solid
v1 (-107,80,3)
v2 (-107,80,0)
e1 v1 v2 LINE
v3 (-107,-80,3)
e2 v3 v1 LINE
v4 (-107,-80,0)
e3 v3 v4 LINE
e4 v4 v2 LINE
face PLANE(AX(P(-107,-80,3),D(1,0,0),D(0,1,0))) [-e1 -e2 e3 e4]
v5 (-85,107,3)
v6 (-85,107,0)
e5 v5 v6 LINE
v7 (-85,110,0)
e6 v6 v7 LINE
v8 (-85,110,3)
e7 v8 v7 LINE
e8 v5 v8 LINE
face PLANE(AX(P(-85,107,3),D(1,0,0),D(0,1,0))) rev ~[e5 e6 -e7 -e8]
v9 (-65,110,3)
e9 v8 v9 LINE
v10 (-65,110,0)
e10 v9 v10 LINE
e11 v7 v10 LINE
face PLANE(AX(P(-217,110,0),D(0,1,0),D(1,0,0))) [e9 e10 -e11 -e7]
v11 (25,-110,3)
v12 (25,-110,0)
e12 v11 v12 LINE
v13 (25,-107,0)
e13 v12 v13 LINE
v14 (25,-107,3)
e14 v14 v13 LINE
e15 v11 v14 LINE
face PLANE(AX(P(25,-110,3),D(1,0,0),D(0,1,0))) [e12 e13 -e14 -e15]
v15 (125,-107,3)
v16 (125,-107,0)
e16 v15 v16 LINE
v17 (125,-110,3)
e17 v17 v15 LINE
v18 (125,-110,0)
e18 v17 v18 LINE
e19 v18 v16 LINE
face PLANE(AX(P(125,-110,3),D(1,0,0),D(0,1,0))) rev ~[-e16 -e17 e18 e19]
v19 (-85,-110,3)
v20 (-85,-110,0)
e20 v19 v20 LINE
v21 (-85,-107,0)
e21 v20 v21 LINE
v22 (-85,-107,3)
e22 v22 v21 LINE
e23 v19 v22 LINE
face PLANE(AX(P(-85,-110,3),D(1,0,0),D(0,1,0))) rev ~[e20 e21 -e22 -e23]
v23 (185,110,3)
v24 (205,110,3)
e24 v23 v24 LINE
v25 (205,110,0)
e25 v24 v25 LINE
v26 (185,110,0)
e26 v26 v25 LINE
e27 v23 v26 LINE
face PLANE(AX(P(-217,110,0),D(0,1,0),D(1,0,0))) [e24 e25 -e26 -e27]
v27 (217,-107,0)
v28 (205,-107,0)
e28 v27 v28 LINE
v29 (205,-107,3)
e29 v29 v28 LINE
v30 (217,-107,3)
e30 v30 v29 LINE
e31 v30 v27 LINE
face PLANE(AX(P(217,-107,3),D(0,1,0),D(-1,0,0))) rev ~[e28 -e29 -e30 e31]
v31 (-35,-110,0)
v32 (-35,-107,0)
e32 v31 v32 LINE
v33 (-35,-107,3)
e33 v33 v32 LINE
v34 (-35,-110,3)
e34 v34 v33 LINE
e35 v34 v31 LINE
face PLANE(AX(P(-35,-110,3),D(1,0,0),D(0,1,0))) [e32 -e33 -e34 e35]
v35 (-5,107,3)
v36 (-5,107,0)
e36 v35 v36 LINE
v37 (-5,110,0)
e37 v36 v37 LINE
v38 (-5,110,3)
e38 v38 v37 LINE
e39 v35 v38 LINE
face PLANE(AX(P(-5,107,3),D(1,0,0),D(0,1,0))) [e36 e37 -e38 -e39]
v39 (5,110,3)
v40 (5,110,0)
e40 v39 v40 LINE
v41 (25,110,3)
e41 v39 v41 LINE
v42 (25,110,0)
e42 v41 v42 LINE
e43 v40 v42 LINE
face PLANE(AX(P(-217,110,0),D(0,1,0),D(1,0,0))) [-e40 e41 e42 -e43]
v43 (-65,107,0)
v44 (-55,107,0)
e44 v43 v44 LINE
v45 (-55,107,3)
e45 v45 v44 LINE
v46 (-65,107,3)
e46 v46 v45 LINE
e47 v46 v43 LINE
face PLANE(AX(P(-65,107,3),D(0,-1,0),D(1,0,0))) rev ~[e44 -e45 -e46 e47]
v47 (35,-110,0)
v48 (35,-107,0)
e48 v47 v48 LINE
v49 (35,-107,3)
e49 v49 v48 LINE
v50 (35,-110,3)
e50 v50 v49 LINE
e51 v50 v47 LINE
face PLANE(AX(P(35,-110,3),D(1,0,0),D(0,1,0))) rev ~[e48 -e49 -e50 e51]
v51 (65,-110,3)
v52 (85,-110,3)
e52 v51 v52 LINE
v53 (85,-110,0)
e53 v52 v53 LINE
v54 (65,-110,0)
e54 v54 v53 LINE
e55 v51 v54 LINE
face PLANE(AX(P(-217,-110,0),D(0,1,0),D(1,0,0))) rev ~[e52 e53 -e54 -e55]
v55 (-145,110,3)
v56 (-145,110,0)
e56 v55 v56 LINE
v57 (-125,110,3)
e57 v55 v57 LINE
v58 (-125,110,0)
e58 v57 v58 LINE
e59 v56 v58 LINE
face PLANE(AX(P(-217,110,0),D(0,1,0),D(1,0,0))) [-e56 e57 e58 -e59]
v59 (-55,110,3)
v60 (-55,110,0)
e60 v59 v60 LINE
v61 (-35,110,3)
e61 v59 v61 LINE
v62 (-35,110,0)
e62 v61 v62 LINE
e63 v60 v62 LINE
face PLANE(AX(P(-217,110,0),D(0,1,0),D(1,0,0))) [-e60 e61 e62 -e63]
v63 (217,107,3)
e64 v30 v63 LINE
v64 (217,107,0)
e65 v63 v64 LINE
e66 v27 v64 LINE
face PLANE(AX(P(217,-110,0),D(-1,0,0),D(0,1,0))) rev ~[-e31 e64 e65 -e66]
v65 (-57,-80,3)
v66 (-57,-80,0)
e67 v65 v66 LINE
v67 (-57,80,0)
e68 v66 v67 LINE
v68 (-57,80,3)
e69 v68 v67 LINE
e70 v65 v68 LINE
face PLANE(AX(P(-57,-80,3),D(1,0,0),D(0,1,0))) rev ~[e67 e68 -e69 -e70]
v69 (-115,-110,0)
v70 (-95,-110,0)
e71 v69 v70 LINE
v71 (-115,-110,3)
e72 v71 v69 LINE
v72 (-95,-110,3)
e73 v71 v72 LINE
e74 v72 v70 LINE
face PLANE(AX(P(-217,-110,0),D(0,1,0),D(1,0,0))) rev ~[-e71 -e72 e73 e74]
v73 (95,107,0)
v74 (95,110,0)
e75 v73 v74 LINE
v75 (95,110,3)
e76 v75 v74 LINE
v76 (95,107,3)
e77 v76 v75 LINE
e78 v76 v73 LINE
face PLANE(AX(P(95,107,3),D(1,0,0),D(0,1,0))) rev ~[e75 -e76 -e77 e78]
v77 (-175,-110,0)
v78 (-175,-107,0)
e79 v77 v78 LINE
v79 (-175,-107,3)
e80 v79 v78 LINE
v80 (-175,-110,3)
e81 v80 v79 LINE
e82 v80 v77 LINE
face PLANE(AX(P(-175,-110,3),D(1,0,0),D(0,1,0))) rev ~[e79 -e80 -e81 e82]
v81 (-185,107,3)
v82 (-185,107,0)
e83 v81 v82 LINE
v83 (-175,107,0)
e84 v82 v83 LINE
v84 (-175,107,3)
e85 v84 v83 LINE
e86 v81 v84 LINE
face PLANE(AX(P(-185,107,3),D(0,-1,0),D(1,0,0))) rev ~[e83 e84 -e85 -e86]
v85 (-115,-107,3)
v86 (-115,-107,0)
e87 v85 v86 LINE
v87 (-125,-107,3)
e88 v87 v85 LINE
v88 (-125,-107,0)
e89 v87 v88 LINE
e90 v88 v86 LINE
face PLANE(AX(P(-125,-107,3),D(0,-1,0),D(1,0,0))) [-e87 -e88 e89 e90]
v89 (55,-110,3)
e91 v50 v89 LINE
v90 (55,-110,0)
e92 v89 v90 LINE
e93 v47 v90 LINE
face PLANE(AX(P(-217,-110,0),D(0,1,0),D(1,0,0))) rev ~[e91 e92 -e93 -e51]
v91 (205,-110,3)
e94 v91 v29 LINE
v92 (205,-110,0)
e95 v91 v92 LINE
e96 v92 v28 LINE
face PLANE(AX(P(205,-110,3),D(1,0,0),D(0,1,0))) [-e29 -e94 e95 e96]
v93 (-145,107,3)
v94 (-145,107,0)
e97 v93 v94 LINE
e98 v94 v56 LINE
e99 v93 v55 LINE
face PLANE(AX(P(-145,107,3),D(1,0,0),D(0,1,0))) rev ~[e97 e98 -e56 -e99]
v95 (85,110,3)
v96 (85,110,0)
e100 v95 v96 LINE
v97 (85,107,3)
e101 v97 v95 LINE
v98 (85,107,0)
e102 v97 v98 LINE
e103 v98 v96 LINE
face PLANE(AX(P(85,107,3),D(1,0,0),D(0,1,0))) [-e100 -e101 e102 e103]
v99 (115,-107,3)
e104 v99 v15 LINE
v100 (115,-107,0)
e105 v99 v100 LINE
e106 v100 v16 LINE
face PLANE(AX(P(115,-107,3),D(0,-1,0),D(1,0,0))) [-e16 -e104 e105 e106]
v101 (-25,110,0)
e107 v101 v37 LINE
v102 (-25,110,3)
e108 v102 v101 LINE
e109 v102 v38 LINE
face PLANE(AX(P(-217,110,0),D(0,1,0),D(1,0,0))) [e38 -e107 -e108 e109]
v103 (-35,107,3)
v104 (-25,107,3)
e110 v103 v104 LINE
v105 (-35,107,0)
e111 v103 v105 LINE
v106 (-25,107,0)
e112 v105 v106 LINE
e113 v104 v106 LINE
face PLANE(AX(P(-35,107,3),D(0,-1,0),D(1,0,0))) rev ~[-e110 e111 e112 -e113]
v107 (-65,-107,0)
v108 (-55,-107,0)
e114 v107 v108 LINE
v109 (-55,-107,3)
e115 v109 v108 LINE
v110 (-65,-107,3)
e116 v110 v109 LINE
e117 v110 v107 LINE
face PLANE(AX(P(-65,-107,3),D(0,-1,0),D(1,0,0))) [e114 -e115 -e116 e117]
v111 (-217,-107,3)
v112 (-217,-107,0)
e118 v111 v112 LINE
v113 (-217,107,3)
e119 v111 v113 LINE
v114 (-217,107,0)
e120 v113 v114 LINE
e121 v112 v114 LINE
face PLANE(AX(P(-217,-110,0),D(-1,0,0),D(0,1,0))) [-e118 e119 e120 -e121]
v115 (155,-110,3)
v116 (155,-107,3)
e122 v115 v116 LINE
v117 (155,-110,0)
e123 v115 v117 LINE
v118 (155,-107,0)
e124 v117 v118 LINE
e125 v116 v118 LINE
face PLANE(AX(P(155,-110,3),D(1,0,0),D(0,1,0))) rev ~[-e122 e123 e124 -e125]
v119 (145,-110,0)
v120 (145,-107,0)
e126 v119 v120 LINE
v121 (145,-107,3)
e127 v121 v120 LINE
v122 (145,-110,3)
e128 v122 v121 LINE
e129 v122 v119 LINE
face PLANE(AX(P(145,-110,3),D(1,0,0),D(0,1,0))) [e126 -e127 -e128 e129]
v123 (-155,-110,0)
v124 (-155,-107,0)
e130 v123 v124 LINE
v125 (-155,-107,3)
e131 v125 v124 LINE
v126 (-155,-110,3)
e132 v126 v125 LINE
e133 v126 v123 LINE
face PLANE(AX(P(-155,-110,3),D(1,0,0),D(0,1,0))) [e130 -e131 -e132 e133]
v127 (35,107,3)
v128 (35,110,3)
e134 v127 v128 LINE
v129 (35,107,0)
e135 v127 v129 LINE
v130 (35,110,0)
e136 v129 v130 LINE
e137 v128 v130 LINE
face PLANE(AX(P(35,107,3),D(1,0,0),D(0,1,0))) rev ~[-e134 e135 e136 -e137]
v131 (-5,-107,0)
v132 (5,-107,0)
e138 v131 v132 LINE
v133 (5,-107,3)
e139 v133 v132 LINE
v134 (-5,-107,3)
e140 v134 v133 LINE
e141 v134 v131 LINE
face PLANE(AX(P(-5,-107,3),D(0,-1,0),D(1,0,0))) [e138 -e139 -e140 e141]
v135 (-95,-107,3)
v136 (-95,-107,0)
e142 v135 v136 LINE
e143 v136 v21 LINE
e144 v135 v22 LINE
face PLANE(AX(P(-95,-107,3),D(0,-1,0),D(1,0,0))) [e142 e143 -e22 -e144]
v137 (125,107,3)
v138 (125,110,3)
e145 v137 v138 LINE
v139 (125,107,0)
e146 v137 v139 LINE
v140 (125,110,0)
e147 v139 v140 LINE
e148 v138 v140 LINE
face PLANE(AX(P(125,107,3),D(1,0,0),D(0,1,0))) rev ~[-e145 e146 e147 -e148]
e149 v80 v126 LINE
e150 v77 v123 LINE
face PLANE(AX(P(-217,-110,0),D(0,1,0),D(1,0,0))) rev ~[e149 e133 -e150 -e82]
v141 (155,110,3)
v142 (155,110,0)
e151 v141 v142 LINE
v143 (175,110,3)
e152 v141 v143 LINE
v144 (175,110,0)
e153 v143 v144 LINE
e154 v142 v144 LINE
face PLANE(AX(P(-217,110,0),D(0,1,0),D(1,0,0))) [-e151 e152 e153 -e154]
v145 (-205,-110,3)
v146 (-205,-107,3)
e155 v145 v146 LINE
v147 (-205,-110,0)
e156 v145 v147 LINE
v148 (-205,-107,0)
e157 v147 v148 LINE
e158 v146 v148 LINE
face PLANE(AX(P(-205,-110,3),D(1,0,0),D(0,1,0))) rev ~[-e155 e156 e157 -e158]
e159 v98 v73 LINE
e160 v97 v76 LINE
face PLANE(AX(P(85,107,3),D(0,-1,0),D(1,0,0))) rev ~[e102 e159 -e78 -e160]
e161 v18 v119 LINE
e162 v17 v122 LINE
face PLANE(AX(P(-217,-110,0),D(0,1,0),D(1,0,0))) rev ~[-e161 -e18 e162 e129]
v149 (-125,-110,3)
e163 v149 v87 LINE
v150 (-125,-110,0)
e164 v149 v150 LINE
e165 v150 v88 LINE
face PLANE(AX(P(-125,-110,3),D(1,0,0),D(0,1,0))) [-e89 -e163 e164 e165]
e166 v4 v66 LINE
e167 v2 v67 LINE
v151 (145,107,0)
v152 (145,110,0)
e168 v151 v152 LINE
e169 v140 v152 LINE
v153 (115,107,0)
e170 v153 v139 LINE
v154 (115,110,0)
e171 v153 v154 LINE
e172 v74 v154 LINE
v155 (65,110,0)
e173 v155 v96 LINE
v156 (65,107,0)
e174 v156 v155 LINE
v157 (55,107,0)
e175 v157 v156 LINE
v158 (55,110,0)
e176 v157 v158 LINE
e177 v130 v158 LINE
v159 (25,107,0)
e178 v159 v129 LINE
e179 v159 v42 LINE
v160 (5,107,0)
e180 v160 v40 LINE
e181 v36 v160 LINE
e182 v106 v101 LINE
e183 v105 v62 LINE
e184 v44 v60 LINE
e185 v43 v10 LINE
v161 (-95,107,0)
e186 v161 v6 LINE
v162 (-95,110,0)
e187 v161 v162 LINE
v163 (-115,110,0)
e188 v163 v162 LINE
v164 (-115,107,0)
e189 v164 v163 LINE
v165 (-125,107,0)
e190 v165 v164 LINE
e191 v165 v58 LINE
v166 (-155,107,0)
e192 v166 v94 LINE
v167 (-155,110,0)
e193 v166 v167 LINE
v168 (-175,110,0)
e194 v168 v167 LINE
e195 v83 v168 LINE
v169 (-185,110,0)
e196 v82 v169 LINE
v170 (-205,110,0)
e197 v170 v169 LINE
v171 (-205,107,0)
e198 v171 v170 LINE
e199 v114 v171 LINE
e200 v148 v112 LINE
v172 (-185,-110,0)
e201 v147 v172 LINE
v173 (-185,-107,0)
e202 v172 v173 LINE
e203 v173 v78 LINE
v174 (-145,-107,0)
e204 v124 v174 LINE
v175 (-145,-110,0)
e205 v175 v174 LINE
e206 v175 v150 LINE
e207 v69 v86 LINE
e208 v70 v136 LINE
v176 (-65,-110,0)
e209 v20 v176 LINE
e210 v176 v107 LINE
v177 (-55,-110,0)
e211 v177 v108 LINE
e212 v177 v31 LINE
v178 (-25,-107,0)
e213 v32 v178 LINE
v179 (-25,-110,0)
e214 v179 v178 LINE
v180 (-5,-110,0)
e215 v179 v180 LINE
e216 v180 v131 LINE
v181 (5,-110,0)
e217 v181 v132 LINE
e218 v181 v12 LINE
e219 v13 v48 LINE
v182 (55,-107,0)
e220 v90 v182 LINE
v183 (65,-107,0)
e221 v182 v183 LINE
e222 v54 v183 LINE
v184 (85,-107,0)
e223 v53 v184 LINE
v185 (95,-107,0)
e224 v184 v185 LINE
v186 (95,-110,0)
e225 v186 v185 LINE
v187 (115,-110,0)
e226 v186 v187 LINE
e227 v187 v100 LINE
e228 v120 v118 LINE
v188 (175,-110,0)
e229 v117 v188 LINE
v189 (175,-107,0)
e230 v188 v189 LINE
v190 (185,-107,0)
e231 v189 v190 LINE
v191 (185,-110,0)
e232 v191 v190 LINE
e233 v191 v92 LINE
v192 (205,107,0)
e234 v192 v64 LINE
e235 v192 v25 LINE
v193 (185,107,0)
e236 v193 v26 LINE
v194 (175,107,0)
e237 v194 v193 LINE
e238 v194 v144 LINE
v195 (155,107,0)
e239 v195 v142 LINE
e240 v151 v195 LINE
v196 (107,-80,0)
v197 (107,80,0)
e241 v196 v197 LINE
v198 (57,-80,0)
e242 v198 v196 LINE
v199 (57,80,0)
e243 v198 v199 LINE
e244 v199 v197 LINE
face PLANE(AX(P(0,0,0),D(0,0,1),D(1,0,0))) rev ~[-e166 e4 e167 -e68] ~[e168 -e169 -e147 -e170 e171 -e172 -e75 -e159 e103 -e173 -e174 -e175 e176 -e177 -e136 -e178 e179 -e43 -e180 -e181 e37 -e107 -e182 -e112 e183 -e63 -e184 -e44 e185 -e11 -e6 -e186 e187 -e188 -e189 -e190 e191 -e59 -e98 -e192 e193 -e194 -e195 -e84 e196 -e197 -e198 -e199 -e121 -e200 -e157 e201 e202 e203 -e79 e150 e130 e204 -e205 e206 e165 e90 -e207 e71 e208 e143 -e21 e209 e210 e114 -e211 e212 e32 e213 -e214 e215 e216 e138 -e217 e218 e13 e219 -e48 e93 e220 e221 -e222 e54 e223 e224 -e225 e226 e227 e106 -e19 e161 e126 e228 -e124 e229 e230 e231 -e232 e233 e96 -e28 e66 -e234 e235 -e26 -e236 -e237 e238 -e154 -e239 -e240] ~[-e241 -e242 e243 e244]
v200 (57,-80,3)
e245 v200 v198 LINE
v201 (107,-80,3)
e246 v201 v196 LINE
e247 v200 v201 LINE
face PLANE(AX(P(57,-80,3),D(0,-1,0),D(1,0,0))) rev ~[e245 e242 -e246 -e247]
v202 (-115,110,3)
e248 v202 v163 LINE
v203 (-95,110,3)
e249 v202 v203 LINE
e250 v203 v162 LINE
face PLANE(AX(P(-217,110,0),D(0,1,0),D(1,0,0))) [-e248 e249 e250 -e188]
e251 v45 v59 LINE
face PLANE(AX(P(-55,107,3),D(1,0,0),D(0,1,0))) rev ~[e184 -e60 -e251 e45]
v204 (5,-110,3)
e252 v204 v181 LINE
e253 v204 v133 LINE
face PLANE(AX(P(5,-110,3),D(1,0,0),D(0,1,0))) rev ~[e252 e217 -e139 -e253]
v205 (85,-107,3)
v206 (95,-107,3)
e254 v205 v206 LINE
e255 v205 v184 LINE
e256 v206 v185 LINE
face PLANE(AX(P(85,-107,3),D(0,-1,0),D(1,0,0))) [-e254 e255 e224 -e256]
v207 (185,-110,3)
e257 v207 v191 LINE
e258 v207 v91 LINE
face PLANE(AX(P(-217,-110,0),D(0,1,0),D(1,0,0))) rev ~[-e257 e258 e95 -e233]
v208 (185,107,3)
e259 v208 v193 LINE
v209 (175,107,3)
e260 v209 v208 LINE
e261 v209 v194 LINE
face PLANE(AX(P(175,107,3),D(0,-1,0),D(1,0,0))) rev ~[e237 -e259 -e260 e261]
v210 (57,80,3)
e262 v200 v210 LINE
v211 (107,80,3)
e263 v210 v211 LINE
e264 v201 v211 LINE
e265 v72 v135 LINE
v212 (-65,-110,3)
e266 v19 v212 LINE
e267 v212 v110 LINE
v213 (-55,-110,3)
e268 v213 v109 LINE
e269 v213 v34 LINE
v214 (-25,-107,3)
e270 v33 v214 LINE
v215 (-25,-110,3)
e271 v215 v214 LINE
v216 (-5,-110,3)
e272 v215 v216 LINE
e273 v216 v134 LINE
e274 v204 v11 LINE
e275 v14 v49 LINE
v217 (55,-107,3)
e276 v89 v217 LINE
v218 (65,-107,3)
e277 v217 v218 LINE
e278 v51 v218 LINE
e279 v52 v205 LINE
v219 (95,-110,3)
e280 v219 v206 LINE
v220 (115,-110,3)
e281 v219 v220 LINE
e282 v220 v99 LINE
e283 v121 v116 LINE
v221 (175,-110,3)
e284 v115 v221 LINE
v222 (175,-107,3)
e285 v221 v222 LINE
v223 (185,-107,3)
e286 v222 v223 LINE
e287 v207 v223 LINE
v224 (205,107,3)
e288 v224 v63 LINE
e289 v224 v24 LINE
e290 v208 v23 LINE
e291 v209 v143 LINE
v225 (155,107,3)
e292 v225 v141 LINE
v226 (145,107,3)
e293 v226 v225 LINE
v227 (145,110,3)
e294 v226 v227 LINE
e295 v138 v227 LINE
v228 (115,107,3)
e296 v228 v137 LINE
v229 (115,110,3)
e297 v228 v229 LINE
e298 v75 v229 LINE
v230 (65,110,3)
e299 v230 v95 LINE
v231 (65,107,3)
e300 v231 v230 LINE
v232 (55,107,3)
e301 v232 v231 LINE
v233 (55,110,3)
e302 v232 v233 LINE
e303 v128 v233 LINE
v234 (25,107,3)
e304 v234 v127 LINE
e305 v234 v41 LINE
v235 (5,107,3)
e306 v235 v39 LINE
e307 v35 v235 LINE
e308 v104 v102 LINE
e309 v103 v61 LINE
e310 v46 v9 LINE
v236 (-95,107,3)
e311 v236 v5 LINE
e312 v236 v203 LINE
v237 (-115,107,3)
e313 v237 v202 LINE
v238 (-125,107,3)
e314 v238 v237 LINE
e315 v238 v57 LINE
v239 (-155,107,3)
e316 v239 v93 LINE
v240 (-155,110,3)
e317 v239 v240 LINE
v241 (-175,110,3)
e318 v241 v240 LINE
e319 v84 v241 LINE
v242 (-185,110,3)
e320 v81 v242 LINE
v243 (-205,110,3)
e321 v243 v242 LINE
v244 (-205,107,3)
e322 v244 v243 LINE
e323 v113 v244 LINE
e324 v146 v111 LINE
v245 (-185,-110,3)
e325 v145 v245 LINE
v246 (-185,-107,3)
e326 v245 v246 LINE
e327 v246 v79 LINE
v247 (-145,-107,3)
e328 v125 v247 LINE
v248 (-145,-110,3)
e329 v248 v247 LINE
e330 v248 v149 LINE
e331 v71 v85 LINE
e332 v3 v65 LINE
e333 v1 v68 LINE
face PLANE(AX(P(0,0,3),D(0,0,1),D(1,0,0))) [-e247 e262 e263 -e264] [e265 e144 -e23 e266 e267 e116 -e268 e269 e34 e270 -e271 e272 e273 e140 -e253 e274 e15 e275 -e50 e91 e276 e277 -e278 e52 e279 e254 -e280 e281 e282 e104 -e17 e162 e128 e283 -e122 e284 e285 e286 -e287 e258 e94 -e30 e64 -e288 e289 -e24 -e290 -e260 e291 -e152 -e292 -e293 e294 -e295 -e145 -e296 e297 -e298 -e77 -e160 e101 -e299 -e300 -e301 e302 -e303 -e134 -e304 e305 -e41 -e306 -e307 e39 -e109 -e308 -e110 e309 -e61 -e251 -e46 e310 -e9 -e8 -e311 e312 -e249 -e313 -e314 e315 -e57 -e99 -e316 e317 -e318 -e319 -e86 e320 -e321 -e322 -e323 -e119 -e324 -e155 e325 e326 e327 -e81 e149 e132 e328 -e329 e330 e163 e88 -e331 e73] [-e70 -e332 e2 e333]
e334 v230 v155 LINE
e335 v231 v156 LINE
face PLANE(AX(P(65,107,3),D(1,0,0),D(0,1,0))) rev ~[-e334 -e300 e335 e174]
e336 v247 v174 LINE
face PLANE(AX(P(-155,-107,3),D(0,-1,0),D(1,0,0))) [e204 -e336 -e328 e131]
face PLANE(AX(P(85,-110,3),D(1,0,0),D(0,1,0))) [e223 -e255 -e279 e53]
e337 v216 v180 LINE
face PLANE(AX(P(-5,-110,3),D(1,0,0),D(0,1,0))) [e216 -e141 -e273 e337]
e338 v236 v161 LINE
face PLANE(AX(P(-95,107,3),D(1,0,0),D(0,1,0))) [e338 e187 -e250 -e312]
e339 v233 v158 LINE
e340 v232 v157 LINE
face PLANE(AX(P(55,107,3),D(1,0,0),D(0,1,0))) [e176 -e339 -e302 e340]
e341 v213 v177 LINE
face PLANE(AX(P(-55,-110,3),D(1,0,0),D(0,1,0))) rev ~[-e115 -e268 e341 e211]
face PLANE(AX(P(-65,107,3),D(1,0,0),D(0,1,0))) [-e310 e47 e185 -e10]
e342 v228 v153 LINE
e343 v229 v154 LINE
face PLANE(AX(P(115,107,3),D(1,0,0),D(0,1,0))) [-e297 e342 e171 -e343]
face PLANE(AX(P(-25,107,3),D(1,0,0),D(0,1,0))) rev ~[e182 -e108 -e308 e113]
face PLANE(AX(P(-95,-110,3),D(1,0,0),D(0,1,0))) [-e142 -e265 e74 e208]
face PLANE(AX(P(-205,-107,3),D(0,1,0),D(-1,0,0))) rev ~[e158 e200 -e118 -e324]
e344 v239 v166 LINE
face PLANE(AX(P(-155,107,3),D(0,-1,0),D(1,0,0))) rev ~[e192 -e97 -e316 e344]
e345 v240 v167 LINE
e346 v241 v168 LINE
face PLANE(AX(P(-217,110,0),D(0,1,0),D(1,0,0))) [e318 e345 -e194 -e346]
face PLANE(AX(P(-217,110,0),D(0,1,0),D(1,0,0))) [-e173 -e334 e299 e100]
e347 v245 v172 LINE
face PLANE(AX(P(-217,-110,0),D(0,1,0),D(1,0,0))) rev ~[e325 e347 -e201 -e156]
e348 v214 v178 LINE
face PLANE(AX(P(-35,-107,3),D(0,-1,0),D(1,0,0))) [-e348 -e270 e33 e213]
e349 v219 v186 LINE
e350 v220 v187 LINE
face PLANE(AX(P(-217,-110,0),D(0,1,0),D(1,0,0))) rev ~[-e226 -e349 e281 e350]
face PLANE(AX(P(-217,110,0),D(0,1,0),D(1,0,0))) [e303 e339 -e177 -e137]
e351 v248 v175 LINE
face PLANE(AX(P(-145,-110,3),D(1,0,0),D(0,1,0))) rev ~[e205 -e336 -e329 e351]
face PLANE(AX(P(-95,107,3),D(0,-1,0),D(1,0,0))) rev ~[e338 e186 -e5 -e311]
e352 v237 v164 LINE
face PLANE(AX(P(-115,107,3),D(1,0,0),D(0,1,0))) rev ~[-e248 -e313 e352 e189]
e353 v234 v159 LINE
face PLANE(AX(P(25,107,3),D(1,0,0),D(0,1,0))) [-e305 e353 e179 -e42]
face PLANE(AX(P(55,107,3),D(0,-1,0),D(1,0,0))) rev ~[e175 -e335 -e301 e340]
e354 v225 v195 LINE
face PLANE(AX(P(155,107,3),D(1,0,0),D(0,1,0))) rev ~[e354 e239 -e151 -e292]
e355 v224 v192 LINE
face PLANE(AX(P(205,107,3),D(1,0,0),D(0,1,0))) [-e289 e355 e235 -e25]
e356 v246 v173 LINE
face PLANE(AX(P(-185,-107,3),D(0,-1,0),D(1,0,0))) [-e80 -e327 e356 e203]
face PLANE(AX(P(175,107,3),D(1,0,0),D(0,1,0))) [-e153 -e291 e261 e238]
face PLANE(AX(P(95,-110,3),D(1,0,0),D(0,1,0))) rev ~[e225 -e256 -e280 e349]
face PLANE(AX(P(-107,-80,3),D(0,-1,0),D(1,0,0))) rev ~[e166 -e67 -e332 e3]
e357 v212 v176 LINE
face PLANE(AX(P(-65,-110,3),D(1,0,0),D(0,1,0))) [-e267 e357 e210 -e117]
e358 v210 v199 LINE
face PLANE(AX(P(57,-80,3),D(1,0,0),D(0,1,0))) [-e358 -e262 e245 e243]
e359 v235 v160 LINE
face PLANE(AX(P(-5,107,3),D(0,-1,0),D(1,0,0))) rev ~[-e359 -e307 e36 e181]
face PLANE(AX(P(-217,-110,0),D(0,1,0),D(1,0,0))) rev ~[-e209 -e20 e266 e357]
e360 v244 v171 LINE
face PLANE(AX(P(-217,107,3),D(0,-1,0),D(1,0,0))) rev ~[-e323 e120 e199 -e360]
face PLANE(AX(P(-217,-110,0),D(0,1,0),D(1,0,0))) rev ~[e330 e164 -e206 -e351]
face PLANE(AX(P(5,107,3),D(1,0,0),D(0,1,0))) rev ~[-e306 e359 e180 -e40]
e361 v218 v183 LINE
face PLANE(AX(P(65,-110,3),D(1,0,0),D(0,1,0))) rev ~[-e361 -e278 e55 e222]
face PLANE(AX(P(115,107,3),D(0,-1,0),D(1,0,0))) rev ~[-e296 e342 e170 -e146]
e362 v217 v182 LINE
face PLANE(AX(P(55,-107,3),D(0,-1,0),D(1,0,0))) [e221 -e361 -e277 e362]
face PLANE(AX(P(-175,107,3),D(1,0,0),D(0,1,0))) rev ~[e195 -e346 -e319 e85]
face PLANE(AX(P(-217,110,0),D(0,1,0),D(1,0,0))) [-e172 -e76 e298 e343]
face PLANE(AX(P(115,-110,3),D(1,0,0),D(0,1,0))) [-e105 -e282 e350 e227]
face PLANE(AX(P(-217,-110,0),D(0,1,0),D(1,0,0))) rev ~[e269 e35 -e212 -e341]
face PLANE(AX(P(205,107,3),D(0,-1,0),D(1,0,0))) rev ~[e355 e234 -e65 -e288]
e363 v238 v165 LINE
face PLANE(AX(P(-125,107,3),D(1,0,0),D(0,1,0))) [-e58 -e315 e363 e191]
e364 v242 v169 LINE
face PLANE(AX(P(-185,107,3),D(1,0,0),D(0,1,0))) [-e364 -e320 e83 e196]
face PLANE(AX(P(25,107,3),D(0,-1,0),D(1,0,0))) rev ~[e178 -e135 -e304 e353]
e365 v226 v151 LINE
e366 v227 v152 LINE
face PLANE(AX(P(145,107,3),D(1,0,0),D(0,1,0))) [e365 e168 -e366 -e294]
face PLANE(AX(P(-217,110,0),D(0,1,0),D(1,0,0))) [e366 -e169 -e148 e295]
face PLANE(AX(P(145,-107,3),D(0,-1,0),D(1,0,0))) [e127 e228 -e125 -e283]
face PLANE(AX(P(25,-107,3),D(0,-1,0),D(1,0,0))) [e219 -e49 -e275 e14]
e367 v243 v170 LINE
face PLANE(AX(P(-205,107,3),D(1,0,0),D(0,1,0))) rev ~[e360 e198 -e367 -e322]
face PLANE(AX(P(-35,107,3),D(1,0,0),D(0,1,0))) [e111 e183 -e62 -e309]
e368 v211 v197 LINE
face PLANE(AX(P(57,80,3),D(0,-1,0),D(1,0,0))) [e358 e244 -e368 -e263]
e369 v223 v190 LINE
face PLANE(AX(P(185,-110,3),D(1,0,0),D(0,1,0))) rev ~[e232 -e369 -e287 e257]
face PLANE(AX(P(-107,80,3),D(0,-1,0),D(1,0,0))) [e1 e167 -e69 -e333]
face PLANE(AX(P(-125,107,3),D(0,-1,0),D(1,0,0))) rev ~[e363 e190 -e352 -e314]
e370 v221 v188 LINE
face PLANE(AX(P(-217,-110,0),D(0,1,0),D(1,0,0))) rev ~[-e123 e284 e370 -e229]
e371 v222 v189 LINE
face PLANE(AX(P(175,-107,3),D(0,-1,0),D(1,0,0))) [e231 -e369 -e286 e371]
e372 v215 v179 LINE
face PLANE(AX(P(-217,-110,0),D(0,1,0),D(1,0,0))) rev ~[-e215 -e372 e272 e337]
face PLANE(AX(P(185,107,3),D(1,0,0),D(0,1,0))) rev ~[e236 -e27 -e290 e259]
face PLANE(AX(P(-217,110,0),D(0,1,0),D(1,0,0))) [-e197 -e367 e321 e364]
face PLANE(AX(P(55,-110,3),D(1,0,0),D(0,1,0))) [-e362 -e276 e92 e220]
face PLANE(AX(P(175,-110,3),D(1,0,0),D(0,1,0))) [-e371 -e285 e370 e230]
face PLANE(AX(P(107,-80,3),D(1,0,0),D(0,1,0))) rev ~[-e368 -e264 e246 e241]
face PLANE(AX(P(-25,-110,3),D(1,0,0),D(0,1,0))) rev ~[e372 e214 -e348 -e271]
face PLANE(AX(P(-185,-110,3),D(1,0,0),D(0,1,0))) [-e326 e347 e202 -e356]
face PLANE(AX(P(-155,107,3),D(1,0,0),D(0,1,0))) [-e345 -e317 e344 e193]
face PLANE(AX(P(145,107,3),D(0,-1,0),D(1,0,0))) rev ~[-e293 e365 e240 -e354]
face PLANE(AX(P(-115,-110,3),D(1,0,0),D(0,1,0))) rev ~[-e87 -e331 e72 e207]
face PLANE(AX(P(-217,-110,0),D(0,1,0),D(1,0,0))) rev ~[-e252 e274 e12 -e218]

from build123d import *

# Parameters (mm, degrees)
ESQUISSE1_W             = 434
ESQUISSE1_H             = 220
BOSS_EXTRU_1_DEPTH      = 3
ESQUISSE2_W             = 10
ESQUISSE2_H             = 3
ESQUISSE2_W_2           = 2
ENL_V_MAT_EXTRU_1_DEPTH = 3
ESQUISSE3_W             = 50
ESQUISSE3_H             = 160
ENL_V_MAT_EXTRU_2_DEPTH = 3


with BuildPart() as part:
    # Esquisse1 → Boss.-Extru.1 (new body)
    with BuildSketch(Plane.XY):
        Rectangle(ESQUISSE1_W, ESQUISSE1_H)
    extrude(amount=BOSS_EXTRU_1_DEPTH)

    # Esquisse2 → Enlèv. mat.-Extru.1 (cut)
    with BuildSketch(Plane.XY.offset(3)):
        with Locations((-210, 108.5)):
            Rectangle(ESQUISSE2_W, ESQUISSE2_H)
        with Locations((-180, 108.5)):
            Rectangle(ESQUISSE2_W, ESQUISSE2_H)
        with Locations((-150, 108.5)):
            Rectangle(ESQUISSE2_W, ESQUISSE2_H)
        with Locations((-120, 108.5)):
            Rectangle(ESQUISSE2_W, ESQUISSE2_H)
        with Locations((-90, 108.5)):
            Rectangle(ESQUISSE2_W, ESQUISSE2_H)
        with Locations((-30, 108.5)):
            Rectangle(ESQUISSE2_W, ESQUISSE2_H)
        with Locations((30, 108.5)):
            Rectangle(ESQUISSE2_W, ESQUISSE2_H)
        with Locations((60, 108.5)):
            Rectangle(ESQUISSE2_W, ESQUISSE2_H)
        with Locations((90, 108.5)):
            Rectangle(ESQUISSE2_W, ESQUISSE2_H)
        with Locations((120, 108.5)):
            Rectangle(ESQUISSE2_W, ESQUISSE2_H)
        with Locations((150, 108.5)):
            Rectangle(ESQUISSE2_W, ESQUISSE2_H)
        with Locations((180, 108.5)):
            Rectangle(ESQUISSE2_W, ESQUISSE2_H)
        with Locations((210, 108.5)):
            Rectangle(ESQUISSE2_W, ESQUISSE2_H)
        with Locations((210, -108.5)):
            Rectangle(ESQUISSE2_W, ESQUISSE2_H)
        with Locations((180, -108.5)):
            Rectangle(ESQUISSE2_W, ESQUISSE2_H)
        with Locations((150, -108.5)):
            Rectangle(ESQUISSE2_W, ESQUISSE2_H)
        with Locations((90, -108.5)):
            Rectangle(ESQUISSE2_W, ESQUISSE2_H)
        with Locations((60, -108.5)):
            Rectangle(ESQUISSE2_W, ESQUISSE2_H)
        with Locations((-30, -108.5)):
            Rectangle(ESQUISSE2_W, ESQUISSE2_H)
        with Locations((-60, -108.5)):
            Rectangle(ESQUISSE2_W, ESQUISSE2_H)
        with Locations((-90, -108.5)):
            Rectangle(ESQUISSE2_W, ESQUISSE2_H)
        with Locations((-120, -108.5)):
            Rectangle(ESQUISSE2_W, ESQUISSE2_H)
        with Locations((-150, -108.5)):
            Rectangle(ESQUISSE2_W, ESQUISSE2_H)
        with Locations((-210, -108.5)):
            Rectangle(ESQUISSE2_W, ESQUISSE2_H)
        with Locations((-180, -108.5)):
            Rectangle(ESQUISSE2_W, ESQUISSE2_H)
        with Locations((-216, -108.5)):
            Rectangle(ESQUISSE2_W_2, ESQUISSE2_H)
        with Locations((-216, 108.5)):
            Rectangle(ESQUISSE2_W_2, ESQUISSE2_H)
        with Locations((-60, 108.5)):
            Rectangle(ESQUISSE2_W, ESQUISSE2_H)
        with Locations((0, 108.5)):
            Rectangle(ESQUISSE2_W, ESQUISSE2_H)
        with Locations((120, -108.5)):
            Rectangle(ESQUISSE2_W, ESQUISSE2_H)
        with Locations((30, -108.5)):
            Rectangle(ESQUISSE2_W, ESQUISSE2_H)
        with Locations((0, -108.5)):
            Rectangle(ESQUISSE2_W, ESQUISSE2_H)
        with Locations((216, 108.5)):
            Rectangle(ESQUISSE2_W_2, ESQUISSE2_H)
        with Locations((216, -108.5)):
            Rectangle(ESQUISSE2_W_2, ESQUISSE2_H)
    extrude(amount=-ENL_V_MAT_EXTRU_1_DEPTH, mode=Mode.SUBTRACT)

    # Esquisse3 → Enlèv. mat.-Extru.2 (cut)
    with BuildSketch(Plane.XY.offset(3)):
        with Locations((-82, 0)):
            Rectangle(ESQUISSE3_W, ESQUISSE3_H)
        with Locations((82, 0)):
            Rectangle(ESQUISSE3_W, ESQUISSE3_H)
    extrude(amount=-ENL_V_MAT_EXTRU_2_DEPTH, mode=Mode.SUBTRACT)


solid = part.part
